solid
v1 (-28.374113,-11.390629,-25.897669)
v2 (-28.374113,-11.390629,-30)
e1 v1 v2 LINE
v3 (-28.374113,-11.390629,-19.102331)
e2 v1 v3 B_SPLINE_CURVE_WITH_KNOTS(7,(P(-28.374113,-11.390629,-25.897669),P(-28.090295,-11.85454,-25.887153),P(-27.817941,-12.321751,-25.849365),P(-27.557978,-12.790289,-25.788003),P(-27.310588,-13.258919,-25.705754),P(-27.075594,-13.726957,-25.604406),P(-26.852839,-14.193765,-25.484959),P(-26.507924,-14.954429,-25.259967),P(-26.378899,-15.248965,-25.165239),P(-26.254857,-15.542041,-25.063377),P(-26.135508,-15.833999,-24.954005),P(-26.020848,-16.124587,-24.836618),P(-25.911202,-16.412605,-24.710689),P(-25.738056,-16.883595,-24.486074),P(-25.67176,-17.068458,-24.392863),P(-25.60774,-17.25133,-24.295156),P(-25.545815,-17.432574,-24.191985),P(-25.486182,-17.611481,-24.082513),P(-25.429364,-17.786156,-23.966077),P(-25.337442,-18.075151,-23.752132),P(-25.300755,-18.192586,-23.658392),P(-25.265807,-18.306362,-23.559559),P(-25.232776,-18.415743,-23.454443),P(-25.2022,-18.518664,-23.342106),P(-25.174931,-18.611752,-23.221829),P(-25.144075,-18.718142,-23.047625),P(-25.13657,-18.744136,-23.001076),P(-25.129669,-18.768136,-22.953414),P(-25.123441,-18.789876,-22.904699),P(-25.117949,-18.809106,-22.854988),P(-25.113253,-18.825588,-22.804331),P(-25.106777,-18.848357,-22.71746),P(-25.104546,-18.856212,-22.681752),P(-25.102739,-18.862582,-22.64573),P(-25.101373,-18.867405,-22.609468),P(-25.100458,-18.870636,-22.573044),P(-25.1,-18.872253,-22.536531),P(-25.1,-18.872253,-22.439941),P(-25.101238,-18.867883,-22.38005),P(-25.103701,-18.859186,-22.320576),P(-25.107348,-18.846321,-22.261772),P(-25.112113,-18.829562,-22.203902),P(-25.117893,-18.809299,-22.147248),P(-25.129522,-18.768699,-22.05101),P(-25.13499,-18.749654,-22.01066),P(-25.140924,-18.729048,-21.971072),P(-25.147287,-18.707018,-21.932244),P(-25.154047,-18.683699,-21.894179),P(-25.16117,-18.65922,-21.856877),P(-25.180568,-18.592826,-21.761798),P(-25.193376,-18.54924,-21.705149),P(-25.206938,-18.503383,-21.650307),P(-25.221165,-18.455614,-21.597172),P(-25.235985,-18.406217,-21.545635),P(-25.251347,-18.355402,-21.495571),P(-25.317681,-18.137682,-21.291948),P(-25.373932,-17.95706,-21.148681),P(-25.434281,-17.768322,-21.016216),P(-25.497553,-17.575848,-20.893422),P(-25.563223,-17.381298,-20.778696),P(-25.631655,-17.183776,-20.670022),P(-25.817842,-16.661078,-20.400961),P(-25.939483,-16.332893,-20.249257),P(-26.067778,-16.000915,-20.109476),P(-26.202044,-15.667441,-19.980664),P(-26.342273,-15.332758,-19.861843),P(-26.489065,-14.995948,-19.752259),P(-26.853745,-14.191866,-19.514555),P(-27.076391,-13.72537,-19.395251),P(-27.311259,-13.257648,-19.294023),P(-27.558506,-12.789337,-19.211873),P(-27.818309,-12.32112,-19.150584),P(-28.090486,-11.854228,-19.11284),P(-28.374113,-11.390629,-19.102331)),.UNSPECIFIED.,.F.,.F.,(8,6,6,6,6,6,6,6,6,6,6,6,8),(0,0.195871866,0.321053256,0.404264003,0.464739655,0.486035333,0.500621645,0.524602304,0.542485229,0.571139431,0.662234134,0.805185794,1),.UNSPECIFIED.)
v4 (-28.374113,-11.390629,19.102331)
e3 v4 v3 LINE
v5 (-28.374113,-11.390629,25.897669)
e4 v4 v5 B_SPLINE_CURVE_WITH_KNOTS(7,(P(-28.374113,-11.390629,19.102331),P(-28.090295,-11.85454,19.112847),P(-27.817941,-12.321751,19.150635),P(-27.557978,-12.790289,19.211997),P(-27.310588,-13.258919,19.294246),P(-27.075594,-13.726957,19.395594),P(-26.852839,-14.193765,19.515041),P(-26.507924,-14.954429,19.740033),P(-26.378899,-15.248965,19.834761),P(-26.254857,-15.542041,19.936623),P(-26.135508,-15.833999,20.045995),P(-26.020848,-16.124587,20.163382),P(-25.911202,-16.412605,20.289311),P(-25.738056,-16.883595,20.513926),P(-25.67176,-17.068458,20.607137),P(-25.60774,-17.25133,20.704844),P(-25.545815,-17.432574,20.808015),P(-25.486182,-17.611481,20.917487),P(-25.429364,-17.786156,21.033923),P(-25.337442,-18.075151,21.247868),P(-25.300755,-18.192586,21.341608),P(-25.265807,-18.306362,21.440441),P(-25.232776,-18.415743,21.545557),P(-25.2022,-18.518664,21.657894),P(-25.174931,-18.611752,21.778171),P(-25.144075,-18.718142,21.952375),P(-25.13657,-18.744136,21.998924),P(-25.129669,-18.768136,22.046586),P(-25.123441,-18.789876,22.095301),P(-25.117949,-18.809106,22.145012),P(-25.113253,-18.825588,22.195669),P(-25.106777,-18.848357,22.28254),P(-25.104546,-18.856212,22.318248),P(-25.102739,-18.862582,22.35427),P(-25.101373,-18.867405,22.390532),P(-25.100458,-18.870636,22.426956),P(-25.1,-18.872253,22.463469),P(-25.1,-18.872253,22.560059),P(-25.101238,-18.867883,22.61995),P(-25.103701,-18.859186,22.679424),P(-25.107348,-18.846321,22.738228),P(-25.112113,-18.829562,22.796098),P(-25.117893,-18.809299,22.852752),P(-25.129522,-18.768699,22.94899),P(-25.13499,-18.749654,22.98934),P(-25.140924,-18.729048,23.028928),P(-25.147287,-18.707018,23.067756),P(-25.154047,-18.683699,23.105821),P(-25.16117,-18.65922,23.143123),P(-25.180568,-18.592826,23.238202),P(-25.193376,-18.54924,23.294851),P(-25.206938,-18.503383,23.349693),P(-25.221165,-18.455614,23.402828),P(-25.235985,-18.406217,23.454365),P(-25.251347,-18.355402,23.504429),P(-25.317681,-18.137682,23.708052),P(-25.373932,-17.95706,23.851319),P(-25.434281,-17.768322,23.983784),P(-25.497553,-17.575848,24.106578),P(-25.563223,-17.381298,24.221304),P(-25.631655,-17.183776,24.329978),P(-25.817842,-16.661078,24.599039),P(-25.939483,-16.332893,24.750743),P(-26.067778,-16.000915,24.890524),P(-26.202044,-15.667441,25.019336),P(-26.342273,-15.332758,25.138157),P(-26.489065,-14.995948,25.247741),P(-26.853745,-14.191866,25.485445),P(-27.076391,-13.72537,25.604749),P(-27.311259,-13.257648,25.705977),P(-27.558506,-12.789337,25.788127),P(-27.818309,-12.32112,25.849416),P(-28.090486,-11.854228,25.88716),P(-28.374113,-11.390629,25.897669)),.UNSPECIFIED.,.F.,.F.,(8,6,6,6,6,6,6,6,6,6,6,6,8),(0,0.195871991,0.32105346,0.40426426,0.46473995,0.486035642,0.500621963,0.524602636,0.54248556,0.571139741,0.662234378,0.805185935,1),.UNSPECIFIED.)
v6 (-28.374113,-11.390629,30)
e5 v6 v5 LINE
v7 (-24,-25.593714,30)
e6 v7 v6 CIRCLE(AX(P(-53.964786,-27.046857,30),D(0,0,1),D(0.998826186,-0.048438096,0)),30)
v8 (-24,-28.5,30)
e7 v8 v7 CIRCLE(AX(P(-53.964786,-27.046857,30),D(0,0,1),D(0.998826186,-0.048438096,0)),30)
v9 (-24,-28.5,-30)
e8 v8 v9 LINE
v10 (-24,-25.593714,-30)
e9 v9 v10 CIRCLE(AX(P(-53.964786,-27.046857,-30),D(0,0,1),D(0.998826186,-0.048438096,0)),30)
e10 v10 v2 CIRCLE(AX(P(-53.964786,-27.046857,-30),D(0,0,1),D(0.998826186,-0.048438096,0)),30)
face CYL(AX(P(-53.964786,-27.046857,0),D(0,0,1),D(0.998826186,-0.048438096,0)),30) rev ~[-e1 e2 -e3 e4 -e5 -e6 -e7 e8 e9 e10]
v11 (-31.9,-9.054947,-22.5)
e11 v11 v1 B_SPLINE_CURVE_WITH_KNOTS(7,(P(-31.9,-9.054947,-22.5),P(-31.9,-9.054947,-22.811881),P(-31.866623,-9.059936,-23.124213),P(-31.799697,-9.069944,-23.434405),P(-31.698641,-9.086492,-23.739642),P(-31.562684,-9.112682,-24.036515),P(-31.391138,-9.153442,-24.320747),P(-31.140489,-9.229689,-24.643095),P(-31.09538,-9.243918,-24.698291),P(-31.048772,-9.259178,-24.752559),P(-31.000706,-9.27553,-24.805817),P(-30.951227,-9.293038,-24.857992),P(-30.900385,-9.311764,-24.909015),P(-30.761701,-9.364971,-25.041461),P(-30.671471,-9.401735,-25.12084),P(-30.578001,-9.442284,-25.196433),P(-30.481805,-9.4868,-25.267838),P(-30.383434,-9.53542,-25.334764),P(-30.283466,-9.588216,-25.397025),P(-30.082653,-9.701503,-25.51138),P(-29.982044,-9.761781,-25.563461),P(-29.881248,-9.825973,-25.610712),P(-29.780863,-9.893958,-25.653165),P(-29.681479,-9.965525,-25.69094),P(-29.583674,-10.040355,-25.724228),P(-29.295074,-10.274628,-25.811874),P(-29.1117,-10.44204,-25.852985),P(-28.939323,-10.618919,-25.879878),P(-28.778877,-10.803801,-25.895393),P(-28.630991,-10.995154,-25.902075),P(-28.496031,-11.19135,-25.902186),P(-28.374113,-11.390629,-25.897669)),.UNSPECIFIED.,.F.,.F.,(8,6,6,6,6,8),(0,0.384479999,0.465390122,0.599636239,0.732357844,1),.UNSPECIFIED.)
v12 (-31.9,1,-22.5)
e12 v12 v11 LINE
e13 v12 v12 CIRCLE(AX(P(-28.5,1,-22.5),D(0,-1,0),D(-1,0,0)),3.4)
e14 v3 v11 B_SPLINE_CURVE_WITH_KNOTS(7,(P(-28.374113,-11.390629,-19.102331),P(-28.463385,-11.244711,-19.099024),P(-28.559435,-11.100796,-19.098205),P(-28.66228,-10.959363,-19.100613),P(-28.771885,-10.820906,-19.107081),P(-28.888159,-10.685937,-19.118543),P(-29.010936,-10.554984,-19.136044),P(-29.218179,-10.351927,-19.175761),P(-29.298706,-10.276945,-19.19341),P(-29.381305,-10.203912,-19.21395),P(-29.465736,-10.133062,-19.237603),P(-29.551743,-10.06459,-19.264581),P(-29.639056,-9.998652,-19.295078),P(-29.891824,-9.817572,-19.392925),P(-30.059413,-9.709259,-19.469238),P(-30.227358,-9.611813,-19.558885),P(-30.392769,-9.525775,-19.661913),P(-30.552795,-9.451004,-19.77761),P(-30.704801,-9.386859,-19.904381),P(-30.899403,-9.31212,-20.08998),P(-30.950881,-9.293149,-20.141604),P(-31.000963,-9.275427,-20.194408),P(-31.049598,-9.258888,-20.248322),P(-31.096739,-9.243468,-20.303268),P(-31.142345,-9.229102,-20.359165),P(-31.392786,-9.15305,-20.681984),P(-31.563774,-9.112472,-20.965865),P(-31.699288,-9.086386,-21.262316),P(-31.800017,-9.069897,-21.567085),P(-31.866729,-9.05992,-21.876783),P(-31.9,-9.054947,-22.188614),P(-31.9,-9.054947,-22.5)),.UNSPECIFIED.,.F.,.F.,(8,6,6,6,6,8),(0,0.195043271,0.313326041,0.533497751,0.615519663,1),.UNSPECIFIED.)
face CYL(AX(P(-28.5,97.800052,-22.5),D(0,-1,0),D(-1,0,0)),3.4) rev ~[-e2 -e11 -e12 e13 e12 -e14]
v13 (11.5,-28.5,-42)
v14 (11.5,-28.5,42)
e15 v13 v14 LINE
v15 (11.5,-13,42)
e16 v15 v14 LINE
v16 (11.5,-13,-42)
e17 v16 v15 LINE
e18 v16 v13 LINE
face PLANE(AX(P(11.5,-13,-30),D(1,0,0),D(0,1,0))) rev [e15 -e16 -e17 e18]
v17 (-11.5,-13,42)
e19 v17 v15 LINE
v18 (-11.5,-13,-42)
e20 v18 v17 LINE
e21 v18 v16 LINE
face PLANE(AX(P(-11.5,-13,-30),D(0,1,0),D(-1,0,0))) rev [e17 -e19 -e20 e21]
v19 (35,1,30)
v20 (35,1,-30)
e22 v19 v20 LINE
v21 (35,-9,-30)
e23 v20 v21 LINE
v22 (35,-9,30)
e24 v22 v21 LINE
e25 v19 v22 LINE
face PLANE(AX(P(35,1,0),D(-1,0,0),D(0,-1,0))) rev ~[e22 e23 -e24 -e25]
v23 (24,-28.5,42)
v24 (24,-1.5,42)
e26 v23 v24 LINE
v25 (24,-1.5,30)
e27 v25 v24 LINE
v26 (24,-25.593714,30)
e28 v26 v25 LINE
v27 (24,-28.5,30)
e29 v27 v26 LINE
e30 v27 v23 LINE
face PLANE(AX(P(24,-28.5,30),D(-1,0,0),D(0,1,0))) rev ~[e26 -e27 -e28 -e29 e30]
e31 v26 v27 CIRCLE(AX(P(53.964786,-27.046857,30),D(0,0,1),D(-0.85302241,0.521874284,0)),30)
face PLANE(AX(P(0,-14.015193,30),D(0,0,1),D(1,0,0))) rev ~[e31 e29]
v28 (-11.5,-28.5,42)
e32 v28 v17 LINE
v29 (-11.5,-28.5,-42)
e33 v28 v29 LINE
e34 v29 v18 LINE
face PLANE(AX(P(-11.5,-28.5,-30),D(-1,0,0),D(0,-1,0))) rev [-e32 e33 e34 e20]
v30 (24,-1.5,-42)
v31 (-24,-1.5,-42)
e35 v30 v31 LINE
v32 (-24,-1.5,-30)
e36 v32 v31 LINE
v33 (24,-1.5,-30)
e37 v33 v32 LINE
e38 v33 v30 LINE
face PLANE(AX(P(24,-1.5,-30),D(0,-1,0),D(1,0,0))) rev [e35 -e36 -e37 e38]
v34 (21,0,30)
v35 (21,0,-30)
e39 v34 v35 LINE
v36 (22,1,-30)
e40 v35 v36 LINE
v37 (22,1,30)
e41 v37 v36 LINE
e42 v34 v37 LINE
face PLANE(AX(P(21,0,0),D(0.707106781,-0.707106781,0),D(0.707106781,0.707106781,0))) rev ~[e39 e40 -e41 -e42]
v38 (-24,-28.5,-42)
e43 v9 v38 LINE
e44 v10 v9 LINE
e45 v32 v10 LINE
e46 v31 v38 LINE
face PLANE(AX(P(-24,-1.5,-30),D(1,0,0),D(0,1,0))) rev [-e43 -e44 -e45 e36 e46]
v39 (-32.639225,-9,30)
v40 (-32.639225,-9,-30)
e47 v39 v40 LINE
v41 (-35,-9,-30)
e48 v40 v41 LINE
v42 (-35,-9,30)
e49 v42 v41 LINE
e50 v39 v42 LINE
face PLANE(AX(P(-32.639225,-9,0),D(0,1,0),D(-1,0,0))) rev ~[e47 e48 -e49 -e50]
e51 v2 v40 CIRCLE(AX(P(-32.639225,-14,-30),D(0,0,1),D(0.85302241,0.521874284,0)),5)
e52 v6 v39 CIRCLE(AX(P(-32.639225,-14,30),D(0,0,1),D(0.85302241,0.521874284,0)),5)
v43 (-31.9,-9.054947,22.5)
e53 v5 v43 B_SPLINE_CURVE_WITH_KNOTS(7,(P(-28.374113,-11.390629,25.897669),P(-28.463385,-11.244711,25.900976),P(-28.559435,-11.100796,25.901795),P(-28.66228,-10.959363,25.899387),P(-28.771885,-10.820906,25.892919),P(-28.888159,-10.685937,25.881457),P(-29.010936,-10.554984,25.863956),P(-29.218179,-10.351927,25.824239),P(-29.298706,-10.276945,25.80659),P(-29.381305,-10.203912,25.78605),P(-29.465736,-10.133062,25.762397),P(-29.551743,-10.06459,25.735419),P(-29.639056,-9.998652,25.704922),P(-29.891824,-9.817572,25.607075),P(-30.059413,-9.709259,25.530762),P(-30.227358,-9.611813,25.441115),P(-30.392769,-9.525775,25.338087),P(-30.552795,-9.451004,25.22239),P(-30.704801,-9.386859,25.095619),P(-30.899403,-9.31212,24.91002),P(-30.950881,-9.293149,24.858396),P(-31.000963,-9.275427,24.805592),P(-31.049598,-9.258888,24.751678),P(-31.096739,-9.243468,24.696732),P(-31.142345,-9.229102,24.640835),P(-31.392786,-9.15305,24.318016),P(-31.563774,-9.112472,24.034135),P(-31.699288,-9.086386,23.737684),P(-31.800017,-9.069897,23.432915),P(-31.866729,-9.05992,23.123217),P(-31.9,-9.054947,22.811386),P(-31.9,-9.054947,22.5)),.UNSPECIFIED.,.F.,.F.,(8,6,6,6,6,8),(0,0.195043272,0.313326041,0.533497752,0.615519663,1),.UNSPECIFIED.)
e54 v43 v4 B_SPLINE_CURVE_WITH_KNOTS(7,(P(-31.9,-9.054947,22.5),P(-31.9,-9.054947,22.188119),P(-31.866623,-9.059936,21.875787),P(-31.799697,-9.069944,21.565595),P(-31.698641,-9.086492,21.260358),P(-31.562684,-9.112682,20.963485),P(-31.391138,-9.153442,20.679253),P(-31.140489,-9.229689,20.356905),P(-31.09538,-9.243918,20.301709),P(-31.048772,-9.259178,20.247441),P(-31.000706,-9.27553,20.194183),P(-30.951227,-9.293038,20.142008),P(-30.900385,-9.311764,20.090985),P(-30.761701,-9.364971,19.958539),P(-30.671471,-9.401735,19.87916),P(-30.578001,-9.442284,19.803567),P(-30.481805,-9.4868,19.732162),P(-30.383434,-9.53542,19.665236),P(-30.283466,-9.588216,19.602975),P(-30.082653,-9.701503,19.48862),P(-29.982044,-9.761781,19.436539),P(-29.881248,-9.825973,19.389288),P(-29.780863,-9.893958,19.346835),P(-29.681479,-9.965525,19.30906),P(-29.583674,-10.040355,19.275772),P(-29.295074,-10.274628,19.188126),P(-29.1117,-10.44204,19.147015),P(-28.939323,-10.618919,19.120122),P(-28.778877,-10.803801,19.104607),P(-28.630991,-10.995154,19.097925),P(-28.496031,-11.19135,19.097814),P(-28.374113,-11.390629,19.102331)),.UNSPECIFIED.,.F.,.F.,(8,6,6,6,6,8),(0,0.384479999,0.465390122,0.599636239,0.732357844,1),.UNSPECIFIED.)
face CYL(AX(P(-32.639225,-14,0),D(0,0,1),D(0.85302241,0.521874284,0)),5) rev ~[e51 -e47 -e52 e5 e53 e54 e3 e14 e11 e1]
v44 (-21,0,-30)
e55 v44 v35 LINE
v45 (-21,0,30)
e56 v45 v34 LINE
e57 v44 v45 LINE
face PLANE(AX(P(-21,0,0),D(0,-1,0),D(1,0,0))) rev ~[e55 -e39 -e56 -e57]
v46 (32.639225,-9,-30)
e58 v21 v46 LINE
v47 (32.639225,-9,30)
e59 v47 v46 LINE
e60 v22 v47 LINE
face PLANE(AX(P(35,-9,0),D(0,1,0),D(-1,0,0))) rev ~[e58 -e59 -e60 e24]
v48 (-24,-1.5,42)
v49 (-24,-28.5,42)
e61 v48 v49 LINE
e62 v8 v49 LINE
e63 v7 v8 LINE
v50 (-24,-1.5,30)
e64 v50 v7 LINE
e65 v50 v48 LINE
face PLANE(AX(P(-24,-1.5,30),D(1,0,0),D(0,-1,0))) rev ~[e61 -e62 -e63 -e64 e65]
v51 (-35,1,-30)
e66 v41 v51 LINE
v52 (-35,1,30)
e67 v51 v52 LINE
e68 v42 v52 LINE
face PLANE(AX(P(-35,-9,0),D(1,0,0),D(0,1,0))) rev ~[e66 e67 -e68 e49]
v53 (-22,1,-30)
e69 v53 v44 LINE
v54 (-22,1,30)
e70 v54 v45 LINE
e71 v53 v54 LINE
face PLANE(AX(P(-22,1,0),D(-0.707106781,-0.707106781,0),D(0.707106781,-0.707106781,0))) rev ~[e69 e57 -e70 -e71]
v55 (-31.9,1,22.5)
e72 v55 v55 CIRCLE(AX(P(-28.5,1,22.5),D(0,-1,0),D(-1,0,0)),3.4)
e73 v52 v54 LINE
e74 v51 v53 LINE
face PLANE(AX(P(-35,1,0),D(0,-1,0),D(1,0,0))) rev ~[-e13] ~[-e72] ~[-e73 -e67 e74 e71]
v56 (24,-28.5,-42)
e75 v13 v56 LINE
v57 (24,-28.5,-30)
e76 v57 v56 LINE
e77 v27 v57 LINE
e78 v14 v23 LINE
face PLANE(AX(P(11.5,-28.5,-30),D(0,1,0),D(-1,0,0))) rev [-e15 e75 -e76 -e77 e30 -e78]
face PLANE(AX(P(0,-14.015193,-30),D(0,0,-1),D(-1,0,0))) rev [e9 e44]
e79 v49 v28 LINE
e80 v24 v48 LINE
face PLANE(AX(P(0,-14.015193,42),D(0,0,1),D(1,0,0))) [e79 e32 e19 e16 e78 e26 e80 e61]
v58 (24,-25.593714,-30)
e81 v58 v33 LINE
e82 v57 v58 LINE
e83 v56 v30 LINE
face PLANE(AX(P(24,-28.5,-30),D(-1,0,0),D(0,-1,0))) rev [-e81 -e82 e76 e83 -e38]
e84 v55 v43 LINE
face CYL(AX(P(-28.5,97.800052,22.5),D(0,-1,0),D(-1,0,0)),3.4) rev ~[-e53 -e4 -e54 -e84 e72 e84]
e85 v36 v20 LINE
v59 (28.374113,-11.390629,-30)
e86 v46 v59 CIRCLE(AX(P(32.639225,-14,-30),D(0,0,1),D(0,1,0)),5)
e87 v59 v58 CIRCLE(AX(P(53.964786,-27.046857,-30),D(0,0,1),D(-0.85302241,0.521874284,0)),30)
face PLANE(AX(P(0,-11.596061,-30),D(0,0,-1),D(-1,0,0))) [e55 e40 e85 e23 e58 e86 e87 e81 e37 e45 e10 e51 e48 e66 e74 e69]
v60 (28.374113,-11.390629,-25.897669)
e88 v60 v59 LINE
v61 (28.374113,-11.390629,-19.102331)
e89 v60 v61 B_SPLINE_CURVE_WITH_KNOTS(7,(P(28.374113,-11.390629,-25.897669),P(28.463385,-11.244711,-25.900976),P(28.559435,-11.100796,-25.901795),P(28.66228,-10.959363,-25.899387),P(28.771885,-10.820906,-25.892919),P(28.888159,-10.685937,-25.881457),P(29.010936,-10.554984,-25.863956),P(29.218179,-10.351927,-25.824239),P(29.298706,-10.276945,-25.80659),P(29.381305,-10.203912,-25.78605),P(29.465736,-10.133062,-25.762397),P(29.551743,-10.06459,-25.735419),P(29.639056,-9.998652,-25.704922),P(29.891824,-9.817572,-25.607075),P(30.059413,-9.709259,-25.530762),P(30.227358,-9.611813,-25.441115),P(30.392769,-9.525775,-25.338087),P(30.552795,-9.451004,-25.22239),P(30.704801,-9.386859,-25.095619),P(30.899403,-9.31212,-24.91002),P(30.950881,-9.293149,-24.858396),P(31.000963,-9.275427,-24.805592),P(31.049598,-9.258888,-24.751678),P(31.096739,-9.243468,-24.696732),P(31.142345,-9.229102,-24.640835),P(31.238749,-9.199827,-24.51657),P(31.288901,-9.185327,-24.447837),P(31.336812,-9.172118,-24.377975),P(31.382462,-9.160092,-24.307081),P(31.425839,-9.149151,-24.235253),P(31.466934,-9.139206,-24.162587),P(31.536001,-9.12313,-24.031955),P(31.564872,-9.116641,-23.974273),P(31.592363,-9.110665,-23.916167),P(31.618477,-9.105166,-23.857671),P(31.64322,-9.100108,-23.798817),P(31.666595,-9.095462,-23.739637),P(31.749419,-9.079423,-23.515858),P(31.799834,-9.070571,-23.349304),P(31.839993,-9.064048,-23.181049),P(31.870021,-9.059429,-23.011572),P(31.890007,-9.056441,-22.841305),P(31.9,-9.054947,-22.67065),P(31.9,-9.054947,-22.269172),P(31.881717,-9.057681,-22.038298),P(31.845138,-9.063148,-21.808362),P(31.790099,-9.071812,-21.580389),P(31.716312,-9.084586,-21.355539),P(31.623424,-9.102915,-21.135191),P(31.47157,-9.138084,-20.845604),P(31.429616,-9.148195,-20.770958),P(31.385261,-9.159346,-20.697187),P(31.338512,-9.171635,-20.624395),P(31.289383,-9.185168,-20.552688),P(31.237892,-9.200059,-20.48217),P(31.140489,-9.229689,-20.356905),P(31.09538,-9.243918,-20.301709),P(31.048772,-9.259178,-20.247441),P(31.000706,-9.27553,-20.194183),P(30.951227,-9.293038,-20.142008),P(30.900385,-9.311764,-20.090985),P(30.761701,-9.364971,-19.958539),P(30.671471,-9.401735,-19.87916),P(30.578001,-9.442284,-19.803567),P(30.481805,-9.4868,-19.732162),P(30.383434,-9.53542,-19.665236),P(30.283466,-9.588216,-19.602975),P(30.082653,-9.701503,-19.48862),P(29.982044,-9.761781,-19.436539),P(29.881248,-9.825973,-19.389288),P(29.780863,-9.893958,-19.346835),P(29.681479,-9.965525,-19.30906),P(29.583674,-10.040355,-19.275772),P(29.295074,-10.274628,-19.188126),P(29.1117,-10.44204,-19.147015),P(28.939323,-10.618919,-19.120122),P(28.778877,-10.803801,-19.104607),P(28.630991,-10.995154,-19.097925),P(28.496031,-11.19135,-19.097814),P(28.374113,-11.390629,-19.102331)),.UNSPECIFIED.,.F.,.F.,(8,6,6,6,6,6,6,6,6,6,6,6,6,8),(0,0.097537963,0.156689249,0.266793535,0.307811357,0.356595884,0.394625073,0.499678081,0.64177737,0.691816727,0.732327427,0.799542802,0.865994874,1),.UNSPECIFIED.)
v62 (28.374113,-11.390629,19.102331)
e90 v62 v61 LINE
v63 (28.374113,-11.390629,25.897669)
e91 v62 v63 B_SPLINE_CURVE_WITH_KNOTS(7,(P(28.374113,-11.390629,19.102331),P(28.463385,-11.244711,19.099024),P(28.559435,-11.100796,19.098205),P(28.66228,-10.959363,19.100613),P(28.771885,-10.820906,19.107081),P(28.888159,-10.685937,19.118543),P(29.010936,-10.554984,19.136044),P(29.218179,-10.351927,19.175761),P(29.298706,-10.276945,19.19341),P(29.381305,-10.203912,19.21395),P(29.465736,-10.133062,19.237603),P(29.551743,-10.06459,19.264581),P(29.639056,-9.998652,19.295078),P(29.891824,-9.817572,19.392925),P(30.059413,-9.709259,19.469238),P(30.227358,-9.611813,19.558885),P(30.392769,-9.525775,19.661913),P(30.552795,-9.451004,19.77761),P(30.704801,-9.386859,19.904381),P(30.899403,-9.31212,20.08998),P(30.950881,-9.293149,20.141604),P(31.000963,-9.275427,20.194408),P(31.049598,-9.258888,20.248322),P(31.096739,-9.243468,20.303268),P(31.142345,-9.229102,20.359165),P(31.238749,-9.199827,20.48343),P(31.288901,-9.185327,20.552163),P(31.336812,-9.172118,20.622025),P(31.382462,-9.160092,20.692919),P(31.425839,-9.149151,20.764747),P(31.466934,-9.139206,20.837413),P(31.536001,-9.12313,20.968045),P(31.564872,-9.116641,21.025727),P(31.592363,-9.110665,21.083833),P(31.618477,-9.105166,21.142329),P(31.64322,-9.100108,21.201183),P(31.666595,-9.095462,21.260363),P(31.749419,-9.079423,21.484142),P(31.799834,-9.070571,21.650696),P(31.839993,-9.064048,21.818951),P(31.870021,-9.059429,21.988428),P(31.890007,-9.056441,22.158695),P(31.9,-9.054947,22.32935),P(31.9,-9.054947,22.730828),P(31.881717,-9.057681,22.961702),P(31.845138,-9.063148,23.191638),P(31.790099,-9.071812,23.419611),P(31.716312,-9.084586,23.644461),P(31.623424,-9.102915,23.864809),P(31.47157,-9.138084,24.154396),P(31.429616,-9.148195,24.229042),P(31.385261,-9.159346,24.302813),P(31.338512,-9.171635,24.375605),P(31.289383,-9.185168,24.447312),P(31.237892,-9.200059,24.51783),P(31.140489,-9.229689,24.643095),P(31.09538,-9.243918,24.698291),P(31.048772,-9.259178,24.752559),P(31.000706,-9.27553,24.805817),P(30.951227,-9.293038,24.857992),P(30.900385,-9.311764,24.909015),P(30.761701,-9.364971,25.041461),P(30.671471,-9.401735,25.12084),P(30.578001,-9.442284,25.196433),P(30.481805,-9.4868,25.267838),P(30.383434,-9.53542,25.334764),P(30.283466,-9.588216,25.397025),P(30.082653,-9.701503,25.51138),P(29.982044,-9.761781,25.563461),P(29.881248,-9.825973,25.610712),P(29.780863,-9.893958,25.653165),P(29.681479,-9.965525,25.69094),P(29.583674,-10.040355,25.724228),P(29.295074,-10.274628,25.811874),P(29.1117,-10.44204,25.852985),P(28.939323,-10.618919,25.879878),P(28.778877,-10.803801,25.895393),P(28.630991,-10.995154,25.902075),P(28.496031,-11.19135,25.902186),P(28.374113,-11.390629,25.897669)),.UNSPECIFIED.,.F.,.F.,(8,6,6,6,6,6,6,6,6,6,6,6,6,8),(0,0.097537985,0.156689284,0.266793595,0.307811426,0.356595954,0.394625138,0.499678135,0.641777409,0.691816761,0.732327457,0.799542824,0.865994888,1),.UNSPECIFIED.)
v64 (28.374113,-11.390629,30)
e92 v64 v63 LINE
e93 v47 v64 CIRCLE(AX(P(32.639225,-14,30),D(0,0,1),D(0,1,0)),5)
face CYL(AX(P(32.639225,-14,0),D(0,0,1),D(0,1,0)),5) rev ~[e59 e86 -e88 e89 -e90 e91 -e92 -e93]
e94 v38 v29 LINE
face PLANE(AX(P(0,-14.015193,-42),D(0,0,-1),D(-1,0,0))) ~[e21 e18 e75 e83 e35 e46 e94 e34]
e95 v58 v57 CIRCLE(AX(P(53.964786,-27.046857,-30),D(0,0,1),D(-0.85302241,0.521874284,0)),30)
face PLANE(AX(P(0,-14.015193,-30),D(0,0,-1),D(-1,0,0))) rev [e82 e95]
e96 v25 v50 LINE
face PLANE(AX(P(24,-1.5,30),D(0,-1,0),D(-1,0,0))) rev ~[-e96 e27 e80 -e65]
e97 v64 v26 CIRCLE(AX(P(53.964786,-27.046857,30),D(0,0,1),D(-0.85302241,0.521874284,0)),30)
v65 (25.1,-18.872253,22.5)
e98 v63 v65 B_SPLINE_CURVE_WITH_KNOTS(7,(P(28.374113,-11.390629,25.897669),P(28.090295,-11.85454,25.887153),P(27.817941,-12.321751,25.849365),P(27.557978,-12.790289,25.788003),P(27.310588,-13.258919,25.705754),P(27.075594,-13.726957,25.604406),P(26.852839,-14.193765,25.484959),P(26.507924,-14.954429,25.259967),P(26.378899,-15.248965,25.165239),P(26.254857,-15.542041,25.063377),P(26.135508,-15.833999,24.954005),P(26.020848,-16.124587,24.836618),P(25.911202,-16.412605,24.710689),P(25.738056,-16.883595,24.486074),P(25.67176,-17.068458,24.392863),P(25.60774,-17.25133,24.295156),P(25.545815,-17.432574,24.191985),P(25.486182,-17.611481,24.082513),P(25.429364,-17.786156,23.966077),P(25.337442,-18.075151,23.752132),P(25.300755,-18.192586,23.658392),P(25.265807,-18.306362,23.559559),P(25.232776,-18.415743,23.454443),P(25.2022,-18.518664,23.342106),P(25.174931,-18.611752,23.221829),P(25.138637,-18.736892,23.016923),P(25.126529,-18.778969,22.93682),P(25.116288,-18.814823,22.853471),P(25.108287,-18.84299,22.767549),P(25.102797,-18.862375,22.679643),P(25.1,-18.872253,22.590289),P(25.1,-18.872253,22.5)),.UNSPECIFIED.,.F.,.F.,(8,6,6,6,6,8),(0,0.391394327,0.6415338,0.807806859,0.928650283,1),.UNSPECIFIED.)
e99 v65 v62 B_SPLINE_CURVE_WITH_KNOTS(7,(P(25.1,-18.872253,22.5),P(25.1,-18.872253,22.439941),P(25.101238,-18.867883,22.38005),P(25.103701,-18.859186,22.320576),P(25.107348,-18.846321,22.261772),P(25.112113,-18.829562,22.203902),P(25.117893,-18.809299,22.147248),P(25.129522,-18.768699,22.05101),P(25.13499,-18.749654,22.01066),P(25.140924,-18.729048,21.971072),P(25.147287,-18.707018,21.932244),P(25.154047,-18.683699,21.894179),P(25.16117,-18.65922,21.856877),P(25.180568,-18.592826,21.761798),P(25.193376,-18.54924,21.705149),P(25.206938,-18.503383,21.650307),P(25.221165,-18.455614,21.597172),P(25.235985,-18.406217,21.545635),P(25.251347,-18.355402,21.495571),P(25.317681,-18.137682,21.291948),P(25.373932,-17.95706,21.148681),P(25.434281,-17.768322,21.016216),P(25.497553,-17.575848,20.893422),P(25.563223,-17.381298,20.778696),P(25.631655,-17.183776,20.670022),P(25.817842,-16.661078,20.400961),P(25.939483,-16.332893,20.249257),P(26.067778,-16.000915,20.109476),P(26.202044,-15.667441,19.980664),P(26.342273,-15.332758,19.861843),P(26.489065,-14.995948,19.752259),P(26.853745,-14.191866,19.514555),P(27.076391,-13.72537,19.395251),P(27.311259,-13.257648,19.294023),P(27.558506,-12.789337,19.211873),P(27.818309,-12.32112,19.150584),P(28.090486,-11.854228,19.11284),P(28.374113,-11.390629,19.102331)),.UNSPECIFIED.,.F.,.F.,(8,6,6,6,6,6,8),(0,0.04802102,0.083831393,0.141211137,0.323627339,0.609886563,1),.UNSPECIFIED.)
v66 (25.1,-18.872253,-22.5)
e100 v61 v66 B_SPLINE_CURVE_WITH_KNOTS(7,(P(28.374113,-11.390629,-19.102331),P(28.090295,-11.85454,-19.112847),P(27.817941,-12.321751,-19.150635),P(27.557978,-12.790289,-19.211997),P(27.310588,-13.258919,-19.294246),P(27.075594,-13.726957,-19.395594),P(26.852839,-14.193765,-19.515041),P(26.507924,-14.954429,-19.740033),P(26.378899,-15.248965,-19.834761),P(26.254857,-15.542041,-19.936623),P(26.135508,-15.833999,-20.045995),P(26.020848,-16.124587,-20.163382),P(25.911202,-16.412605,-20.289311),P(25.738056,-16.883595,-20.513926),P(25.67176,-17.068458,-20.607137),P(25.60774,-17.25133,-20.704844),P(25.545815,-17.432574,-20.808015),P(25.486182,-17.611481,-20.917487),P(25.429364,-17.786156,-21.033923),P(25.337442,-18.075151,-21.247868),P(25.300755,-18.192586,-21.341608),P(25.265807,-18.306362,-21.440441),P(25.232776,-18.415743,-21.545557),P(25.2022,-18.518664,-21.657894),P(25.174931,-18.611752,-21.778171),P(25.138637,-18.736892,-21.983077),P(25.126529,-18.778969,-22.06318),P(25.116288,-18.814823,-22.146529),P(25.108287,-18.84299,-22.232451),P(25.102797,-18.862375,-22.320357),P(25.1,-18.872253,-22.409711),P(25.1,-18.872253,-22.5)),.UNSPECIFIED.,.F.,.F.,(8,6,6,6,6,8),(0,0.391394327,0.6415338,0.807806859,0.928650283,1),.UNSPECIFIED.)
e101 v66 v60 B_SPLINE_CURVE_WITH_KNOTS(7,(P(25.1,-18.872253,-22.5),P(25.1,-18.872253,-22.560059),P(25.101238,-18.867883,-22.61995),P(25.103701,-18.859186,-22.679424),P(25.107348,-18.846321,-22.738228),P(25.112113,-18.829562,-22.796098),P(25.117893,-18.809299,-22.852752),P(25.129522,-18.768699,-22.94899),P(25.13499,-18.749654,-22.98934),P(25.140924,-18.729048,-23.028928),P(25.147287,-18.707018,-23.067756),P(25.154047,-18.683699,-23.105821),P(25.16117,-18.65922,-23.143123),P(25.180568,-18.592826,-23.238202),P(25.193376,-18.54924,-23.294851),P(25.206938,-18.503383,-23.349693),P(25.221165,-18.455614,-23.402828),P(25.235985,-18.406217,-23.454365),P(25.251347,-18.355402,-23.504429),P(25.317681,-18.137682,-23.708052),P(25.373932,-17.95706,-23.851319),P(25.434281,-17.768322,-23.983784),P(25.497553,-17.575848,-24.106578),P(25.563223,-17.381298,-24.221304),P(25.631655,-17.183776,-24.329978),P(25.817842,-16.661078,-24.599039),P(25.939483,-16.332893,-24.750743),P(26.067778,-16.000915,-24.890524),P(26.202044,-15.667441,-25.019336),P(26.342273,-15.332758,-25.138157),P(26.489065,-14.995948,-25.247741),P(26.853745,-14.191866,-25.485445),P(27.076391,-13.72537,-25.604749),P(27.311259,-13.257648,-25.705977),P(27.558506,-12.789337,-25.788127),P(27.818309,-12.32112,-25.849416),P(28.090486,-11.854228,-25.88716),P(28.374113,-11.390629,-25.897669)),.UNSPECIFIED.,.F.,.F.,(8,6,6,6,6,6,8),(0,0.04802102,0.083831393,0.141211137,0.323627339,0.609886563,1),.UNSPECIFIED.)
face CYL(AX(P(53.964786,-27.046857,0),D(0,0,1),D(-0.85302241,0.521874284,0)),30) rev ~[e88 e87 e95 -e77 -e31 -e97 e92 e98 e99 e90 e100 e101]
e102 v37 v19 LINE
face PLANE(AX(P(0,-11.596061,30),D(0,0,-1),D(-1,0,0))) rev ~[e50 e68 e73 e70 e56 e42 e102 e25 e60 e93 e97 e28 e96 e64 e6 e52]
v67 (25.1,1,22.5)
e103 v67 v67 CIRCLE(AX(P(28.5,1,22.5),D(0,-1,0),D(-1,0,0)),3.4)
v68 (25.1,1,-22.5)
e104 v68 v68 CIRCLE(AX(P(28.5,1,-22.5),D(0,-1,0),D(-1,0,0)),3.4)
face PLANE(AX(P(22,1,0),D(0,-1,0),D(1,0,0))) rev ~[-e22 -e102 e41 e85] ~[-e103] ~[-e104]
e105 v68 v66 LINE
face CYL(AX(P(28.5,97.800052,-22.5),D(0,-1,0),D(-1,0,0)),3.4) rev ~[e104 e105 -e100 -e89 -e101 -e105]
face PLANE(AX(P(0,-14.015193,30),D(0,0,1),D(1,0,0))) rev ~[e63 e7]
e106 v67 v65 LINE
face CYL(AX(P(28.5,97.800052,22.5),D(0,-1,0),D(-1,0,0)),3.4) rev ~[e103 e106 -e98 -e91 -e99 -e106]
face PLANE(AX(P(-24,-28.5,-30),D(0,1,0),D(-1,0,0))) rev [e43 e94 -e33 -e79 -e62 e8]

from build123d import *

# Parameters (mm, degrees)
EXTRUDE_1_DEPTH    = 30
HOLE_WIZARD_M8_1_D = 6.8
EXTRUDE_2_DEPTH    = 12


with BuildPart() as part:
    # 草图1 → 凸台-拉伸1 (new body, symmetric)
    with BuildSketch(Plane.XY):
        with BuildLine():
            Line((-21, 0), (21, 0))
            Line((21, 0), (22, 1))
            Line((22, 1), (35, 1))
            Line((35, 1), (35, -9))
            Line((35, -9), (32.639225352, -9))
            ThreePointArc((32.639225352, -9), (30.19452262, -9.638414445), (28.374113304, -11.390628579))
            ThreePointArc((28.374113304, -11.390628579), (24.899602423, -19.616168903), (24, -28.5))
            Line((24, -28.5), (11.5, -28.5))
            Line((11.5, -28.5), (11.5, -13))
            Line((11.5, -13), (-11.5, -13))
            Line((-11.5, -13), (-11.5, -28.5))
            Line((-11.5, -28.5), (-24, -28.5))
            ThreePointArc((-24, -28.5), (-24.899602423, -19.616168903), (-28.374113304, -11.390628579))
            ThreePointArc((-28.374113304, -11.390628579), (-30.19452262, -9.638414445), (-32.639225352, -9))
            Line((-32.639225352, -9), (-35, -9))
            Line((-35, -9), (-35, 1))
            Line((-35, 1), (-22, 1))
            Line((-22, 1), (-21, 0))
        make_face()
    extrude(amount=EXTRUDE_1_DEPTH, both=True)

    # M8 螺纹孔1 (through all)
    with Locations(Plane(origin=(0, 1, 0), x_dir=(1, 0, 0), z_dir=(0, 1, 0))):
        with Locations((-28.5, 22.5), (28.5, 22.5), (28.5, -22.5), (-28.5, -22.5)):
            Hole(HOLE_WIZARD_M8_1_D / 2)

    # 草图4 → 凸台-拉伸2 (add)
    with BuildSketch(Plane.XY.offset(30)):
        Polygon((-11.5, -28.5), (-11.5, -13), (11.5, -13), (11.5, -28.5), (24, -28.5), (24, -1.5), (-24, -1.5), (-24, -28.5), align=None)
    extrude_2 = extrude(amount=EXTRUDE_2_DEPTH)

    # 镜向1: 凸台-拉伸2 across plane
    add(extrude_2.mirror(Plane.XY))


solid = part.part
